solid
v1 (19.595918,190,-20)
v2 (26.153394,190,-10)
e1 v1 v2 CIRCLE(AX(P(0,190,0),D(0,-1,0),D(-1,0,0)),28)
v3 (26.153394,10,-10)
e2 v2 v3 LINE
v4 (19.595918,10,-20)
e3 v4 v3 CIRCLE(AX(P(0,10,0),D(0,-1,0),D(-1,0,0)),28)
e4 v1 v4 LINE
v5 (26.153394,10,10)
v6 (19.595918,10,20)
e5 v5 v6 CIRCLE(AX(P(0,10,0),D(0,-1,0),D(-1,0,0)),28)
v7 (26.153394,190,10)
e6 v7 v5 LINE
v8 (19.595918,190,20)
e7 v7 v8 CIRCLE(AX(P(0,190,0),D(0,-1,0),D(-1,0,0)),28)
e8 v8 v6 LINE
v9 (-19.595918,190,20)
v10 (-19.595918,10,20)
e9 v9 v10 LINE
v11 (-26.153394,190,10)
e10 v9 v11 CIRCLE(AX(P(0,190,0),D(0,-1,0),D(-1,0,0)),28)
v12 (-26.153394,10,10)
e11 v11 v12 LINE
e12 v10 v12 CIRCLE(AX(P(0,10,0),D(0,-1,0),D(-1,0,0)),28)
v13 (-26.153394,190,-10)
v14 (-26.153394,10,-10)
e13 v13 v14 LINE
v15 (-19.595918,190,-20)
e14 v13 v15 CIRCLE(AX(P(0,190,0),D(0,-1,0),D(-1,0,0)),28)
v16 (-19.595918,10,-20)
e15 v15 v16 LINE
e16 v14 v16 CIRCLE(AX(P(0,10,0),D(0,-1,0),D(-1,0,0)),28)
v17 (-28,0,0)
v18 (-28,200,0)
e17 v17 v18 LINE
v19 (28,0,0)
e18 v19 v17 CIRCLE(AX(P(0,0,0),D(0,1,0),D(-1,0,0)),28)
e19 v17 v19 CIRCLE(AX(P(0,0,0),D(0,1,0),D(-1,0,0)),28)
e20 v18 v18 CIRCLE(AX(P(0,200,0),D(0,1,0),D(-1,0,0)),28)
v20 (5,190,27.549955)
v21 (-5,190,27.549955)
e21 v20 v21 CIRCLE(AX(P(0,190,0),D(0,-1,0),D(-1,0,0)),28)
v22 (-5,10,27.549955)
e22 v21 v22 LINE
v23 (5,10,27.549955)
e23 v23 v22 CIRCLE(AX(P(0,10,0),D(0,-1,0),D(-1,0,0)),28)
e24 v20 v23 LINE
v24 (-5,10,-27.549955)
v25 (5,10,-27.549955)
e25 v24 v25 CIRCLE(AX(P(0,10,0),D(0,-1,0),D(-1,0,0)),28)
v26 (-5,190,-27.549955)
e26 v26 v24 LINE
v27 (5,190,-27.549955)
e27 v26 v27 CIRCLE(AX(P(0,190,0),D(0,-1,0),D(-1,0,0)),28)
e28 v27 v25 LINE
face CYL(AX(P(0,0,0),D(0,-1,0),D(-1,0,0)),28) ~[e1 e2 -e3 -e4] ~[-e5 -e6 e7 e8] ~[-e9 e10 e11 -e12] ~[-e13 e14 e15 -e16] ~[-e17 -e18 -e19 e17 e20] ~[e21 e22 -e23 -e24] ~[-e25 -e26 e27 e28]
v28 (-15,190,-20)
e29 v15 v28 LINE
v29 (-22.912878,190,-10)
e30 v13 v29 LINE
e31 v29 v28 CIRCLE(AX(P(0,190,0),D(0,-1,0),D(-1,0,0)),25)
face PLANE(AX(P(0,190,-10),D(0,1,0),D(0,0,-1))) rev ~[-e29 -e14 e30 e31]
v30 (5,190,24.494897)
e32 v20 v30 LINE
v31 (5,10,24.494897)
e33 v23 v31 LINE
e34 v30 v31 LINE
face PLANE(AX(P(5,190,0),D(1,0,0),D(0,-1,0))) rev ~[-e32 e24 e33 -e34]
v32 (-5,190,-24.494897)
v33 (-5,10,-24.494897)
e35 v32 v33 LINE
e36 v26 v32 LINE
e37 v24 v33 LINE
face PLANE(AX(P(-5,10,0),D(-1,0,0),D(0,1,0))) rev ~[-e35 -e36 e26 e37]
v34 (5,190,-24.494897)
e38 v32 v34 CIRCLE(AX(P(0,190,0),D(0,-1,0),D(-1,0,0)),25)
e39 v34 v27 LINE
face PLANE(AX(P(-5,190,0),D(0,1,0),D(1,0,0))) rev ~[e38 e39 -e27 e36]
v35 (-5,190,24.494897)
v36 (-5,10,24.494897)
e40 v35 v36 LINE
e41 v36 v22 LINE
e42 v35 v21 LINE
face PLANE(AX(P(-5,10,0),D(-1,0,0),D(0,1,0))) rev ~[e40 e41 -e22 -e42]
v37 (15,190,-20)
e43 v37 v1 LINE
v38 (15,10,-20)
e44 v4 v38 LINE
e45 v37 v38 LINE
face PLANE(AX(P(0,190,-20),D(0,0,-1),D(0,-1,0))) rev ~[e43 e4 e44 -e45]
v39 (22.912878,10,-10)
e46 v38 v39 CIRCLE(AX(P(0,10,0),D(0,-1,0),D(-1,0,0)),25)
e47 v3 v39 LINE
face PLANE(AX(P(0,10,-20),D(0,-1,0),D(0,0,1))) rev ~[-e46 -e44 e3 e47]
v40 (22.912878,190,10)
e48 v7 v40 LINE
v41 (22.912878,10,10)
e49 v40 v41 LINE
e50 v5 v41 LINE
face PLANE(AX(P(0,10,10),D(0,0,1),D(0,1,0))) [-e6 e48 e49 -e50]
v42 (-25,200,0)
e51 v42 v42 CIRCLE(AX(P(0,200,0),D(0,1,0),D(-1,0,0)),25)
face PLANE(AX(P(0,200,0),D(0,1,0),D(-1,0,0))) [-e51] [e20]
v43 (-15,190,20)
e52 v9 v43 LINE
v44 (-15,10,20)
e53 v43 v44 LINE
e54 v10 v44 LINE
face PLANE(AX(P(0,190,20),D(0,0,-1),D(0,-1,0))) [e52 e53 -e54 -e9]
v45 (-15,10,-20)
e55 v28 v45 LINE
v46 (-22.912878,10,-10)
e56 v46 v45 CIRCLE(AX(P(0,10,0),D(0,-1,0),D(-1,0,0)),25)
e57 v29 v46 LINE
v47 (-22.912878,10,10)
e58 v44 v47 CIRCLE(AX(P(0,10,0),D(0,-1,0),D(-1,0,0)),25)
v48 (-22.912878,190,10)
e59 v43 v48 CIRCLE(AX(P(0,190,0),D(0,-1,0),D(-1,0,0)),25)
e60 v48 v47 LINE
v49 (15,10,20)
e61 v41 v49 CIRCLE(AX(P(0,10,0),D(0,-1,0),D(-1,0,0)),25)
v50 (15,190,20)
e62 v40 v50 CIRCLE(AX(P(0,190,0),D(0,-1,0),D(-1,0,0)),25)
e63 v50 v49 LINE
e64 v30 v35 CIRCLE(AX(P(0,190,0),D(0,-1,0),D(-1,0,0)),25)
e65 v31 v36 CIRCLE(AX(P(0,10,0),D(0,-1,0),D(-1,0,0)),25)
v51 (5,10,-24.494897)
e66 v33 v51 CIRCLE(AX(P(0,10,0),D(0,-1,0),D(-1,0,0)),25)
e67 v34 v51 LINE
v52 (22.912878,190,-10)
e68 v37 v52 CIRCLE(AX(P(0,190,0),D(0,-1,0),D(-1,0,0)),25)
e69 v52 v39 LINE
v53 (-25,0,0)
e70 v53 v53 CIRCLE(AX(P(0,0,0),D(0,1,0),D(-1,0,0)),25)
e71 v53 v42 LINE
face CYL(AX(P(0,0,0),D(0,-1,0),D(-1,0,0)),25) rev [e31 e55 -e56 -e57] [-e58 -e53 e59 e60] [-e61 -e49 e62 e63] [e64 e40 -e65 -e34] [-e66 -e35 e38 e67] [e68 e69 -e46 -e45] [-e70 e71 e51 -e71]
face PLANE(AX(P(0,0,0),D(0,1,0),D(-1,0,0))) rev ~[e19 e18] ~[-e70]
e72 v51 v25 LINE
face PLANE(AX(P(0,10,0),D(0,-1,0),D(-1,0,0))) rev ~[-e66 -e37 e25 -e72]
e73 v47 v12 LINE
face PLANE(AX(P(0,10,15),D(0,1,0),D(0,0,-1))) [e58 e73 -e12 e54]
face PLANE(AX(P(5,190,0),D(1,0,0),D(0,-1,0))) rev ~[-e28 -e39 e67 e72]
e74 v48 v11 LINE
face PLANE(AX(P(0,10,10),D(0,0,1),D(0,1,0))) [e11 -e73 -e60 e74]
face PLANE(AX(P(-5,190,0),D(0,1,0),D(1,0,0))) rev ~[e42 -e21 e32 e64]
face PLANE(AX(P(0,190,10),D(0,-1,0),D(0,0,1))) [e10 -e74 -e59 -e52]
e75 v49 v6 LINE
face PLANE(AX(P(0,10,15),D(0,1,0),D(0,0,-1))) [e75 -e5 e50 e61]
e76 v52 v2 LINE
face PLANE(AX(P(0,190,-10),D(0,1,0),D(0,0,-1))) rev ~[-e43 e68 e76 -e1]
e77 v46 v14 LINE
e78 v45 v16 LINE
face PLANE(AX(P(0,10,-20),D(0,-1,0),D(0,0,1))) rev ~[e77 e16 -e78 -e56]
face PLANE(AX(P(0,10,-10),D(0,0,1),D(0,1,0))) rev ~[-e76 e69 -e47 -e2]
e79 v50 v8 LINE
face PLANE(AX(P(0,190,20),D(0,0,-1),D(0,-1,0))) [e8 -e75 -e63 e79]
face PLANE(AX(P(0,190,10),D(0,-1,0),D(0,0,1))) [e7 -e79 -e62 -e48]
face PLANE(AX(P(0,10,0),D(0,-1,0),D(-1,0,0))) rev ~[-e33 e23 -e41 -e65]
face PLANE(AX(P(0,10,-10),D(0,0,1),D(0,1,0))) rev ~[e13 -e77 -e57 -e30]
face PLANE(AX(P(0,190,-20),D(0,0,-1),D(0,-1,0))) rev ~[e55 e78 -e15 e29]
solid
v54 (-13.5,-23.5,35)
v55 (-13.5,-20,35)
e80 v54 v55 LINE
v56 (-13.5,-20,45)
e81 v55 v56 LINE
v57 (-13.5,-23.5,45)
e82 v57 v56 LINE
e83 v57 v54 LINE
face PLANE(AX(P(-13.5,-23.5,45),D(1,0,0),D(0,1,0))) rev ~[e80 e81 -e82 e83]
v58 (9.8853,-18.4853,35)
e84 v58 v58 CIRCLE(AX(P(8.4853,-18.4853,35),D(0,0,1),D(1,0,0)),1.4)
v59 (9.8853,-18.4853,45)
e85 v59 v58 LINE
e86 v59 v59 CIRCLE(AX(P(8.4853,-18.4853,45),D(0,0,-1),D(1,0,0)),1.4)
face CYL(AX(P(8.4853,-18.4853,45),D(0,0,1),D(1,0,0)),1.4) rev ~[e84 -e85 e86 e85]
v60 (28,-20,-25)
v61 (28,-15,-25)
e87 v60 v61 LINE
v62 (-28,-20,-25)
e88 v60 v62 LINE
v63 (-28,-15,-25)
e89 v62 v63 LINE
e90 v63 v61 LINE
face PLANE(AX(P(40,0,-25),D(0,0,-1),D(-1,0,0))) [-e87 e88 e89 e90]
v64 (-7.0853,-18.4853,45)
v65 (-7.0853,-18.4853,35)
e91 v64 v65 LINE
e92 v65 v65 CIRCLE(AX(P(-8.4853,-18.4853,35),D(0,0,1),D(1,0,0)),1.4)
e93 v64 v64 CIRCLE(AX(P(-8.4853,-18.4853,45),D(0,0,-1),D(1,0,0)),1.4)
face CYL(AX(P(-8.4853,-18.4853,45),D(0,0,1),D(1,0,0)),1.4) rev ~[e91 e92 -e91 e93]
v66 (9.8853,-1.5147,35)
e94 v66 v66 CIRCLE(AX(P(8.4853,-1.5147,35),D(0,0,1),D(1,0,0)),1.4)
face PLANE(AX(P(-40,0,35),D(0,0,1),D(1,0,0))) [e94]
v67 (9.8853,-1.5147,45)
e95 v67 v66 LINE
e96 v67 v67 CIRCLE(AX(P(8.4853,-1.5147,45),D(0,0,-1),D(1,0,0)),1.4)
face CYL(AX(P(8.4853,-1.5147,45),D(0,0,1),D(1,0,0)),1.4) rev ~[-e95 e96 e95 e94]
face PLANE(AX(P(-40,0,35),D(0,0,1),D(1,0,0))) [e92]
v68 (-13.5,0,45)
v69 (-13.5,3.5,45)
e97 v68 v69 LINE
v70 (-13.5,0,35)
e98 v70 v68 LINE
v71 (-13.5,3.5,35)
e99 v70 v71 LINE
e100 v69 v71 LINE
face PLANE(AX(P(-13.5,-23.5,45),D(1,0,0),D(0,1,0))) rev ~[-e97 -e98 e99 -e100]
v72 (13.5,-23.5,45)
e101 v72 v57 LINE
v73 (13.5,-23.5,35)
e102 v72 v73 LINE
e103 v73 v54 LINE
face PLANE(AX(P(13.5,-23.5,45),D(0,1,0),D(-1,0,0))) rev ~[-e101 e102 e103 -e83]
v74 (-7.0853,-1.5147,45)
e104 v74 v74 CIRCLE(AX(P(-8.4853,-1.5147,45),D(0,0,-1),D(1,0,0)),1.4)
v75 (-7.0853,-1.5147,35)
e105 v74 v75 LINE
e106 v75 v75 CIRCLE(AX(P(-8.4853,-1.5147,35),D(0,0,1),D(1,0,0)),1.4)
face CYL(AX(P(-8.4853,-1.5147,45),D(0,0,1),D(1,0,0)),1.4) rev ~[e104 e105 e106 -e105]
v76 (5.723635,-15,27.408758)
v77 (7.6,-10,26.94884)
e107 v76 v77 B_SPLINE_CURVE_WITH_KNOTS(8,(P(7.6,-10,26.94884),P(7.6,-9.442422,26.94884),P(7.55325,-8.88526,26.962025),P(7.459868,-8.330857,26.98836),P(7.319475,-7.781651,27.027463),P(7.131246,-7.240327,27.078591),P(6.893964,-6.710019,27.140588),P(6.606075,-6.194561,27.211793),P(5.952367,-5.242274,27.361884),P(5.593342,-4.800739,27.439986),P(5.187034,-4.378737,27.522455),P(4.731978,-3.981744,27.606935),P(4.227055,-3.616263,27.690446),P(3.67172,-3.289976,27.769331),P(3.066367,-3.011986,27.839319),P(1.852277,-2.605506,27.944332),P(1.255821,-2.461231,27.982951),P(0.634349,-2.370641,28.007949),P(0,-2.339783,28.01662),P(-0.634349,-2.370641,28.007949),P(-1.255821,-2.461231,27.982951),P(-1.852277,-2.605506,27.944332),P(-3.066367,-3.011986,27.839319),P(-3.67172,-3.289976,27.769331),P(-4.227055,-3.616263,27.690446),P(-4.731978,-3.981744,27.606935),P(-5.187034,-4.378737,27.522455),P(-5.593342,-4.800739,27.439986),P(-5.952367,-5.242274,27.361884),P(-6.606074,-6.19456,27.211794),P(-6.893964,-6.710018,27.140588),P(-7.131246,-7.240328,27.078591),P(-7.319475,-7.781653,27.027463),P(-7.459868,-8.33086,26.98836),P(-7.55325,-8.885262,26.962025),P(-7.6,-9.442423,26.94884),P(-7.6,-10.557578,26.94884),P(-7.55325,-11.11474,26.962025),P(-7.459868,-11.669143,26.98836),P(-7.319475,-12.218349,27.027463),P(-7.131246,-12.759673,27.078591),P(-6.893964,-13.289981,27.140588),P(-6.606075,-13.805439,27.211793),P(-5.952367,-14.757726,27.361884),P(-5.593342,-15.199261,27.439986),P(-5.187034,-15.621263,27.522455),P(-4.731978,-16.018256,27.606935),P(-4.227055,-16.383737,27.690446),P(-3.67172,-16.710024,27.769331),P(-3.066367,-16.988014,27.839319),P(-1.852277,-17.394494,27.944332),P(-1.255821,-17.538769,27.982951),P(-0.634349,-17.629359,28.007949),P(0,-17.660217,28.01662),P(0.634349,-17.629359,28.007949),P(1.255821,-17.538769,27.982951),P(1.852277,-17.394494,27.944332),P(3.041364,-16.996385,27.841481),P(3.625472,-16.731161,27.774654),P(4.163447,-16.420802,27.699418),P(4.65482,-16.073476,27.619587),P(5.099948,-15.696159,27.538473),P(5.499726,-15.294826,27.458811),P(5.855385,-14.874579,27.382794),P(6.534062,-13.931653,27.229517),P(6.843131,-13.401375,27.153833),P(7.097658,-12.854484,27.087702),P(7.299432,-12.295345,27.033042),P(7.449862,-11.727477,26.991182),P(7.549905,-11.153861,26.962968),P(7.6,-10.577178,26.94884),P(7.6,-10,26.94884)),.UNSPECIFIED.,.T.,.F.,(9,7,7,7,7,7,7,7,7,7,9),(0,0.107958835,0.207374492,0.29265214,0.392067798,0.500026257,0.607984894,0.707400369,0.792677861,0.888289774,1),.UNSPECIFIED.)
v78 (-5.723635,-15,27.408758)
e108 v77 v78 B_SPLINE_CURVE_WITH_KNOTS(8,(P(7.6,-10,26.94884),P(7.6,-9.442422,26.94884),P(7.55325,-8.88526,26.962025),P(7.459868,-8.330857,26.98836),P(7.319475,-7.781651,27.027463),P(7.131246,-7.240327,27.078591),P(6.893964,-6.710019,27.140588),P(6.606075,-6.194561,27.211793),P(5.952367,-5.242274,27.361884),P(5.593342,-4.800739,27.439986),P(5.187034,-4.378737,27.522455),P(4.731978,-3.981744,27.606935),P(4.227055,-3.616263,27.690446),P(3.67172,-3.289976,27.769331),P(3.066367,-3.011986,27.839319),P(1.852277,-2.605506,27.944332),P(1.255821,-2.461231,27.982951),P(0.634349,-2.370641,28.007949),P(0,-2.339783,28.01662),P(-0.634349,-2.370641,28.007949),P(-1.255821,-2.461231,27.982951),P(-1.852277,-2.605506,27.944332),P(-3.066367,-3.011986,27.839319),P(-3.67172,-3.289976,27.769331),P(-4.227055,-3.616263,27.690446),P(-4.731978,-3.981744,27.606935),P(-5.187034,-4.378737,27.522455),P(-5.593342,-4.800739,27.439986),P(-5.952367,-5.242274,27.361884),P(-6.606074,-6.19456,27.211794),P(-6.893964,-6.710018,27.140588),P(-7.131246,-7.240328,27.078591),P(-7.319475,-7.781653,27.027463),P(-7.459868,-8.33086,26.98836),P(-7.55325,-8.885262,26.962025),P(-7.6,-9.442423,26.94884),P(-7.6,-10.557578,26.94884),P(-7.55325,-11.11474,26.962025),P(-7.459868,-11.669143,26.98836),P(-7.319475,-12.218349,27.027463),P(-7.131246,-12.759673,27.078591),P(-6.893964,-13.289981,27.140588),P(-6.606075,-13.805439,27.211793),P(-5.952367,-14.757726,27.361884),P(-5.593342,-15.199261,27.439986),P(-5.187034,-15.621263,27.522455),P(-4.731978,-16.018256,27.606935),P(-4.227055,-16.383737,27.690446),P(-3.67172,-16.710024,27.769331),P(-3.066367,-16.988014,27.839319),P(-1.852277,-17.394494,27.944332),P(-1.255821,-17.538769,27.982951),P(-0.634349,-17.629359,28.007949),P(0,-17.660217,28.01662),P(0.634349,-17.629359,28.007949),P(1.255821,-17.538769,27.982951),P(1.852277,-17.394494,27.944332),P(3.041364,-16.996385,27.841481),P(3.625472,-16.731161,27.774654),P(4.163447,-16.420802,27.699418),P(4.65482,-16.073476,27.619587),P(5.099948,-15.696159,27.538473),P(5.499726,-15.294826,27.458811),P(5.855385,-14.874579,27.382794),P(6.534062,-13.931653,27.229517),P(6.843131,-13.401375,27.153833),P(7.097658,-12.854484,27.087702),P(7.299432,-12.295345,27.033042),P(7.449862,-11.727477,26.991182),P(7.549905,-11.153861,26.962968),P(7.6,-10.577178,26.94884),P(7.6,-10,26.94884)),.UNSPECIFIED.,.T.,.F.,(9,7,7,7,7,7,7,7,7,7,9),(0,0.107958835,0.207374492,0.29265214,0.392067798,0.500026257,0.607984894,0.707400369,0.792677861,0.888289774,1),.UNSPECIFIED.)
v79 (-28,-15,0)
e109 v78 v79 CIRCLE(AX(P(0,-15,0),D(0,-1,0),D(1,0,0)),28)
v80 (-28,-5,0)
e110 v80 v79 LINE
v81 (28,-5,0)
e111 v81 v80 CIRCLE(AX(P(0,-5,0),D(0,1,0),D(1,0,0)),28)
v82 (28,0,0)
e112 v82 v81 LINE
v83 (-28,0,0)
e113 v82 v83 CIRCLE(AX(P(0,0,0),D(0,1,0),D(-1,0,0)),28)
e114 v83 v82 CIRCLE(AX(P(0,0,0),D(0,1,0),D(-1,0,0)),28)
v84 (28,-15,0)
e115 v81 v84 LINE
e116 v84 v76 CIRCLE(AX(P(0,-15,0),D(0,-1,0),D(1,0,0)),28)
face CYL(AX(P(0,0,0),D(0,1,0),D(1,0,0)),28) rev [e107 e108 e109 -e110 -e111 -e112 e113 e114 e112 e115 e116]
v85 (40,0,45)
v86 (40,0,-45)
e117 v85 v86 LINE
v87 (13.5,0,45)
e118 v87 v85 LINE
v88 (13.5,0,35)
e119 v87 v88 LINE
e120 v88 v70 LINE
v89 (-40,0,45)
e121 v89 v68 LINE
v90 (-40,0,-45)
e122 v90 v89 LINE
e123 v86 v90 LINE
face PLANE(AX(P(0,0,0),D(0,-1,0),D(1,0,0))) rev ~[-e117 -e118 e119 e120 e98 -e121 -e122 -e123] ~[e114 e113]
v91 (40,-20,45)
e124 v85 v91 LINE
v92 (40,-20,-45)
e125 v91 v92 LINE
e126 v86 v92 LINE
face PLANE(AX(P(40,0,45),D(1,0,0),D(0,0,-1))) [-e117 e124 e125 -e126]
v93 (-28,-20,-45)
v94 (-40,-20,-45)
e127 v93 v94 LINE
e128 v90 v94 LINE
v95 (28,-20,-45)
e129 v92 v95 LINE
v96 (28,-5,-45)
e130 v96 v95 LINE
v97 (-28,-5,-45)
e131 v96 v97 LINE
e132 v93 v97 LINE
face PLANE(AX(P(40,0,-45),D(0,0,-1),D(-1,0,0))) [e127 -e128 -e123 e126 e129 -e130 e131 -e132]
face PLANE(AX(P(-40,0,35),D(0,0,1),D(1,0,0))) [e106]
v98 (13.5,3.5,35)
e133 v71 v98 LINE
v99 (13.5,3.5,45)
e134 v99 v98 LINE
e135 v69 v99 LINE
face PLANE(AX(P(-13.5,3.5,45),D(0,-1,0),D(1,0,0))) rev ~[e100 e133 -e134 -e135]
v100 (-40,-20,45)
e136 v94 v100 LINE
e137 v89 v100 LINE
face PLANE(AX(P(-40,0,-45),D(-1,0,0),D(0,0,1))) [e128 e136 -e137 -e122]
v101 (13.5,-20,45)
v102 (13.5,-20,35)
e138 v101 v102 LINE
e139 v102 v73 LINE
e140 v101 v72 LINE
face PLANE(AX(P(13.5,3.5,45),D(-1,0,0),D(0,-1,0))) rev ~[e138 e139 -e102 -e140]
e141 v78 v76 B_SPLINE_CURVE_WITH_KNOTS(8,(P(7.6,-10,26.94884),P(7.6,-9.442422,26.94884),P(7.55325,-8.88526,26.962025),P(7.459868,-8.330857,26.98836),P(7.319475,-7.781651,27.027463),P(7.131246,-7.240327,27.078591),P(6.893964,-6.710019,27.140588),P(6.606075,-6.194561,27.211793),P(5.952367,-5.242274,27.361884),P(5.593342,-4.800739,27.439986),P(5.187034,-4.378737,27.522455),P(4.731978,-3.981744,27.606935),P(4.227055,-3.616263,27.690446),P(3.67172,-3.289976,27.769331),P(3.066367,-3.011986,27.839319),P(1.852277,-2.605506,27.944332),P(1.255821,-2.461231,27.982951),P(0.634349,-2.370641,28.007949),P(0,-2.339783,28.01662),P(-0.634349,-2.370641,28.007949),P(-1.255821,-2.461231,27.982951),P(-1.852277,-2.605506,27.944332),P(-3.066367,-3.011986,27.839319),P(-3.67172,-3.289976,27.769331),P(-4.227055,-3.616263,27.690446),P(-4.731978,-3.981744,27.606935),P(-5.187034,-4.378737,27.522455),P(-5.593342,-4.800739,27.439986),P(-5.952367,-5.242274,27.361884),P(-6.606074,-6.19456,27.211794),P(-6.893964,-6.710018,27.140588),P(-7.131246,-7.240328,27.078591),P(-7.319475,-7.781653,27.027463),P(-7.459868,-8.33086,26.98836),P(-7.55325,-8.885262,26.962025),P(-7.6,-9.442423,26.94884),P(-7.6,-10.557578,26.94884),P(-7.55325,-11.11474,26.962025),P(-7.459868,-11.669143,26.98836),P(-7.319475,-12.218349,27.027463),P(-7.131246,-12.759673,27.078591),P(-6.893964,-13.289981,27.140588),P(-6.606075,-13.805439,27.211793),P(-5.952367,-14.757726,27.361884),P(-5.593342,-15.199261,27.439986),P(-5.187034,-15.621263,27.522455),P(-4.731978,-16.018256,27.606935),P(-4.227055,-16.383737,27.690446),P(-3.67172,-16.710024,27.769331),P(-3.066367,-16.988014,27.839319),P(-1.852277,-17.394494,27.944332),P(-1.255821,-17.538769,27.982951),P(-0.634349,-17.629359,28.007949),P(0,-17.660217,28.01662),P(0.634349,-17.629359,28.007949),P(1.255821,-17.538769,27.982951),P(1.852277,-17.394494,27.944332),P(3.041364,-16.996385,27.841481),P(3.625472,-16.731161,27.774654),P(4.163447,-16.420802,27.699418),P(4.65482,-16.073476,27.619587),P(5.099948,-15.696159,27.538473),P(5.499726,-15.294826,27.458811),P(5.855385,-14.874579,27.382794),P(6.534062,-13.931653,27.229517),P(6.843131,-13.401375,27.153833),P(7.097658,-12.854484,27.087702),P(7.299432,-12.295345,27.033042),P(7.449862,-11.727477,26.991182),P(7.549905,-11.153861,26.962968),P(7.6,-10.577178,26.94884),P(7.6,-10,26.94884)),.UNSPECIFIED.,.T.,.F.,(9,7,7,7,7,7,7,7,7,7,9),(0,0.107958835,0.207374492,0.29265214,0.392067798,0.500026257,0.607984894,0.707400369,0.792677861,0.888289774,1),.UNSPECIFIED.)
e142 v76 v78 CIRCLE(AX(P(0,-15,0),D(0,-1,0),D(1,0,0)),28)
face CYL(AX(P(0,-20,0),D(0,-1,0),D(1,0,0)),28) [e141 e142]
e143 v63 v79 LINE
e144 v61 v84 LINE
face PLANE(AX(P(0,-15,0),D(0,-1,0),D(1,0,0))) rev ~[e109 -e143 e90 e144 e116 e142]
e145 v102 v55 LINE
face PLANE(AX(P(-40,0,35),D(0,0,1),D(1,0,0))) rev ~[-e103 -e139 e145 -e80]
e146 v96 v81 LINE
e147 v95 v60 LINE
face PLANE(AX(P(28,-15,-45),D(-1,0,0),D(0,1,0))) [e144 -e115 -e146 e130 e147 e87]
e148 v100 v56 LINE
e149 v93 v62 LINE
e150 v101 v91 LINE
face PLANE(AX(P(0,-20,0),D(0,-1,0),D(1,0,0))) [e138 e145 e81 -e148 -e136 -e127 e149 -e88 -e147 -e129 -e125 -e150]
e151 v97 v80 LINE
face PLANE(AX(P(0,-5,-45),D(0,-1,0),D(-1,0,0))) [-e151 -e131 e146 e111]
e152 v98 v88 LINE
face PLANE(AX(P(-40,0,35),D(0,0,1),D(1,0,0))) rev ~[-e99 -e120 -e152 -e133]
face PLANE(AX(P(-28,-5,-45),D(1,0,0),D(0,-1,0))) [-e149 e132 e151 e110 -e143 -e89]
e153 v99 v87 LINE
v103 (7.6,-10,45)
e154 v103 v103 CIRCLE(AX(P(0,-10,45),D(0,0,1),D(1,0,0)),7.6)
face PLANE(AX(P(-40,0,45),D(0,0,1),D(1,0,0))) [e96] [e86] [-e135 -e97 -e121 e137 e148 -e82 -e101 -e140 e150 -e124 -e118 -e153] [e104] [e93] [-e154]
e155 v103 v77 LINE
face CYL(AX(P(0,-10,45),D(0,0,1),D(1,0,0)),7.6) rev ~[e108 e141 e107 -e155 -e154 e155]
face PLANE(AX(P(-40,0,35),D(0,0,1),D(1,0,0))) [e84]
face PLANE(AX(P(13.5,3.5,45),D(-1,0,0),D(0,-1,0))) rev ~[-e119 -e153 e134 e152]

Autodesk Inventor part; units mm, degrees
ref_plane "YZ Plane" through (0, 0, 0) normal (1, 0, 0) x (0, 1, 0)
ref_plane "XZ Plane" through (0, 0, 0) normal (0, 1, 0) x (-1, 0, 0)
ref_plane "XY Plane" through (0, 0, 0) normal (0, 0, 1) x (1, 0, 0)
sketch "Sketch1" plane through (0, 0, 0) normal (0, 1, 0) x (-1, 0, 0)
  circle A0 centre (0, 0) radius 25
  circle A1 centre (0, 0) radius 28
  dimension "d0" = 50
  dimension "d1" = 56
extrude "Extrusion1" add sketch "Sketch1" along normal blind 200
sketch "Sketch2" plane through (0, 0, 0) normal (1, 0, 0) x (0, 1, 0)
  line L0 (0, 0) -> (0, 15)
  line L1 (0, -28) -> (0, 28) projected
  line L2 (0, 15) -> (100, 15)
  line L3 (190, 20) -> (10, 20)
  line L4 (10, 20) -> (10, 10)
  line L5 (10, 10) -> (190, 10)
  line L6 (190, 10) -> (190, 20)
  line L7 (190, 20) -> (10, 10) construction
  line L8 (10, 20) -> (190, 10) construction
  line L9 (0, 0) -> (25, 0)
  line L10 (190, -20) -> (10, -20)
  line L11 (10, -20) -> (10, -10)
  line L12 (10, -10) -> (190, -10)
  line L13 (190, -10) -> (190, -20)
  line L14 (190, -20) -> (10, -10) construction
  line L15 (10, -20) -> (190, -10) construction
  point P0 (100, -15)
  dimension "d4" = 15
  dimension "d5" = 100
  dimension "d6" = 180
  dimension "d7" = 10
  dimension "d8" = 25
extrude "Extrusion2" cut sketch "Sketch2" along normal mid plane 100
sketch "Sketch4" plane through (0, 0, 0) normal (0, 0, 1) x (1, 0, 0)
  line L0 (0, 0) -> (0, 100)
  line L1 (-5, 190) -> (5, 190)
  line L2 (5, 190) -> (5, 10)
  line L3 (5, 10) -> (-5, 10)
  line L4 (-5, 10) -> (-5, 190)
  line L5 (-5, 190) -> (5, 10) construction
  line L6 (5, 190) -> (-5, 10) construction
  dimension "d11" = 100
  dimension "d12" = 10
  dimension "d13" = 180
extrude "Extrusion3" cut sketch "Sketch4" along normal mid plane 100
sketch "Sketch5" plane through (0, 0, 0) normal (0, -1, 0) x (1, 0, 0)
  line L0 (-40, 45) -> (40, 45)
  line L1 (40, 45) -> (40, -45)
  line L2 (40, -45) -> (-40, -45)
  line L3 (-40, -45) -> (-40, 45)
  line L4 (-40, 45) -> (40, -45) construction
  line L5 (40, 45) -> (-40, -45) construction
  circle A0 centre (0, 0) radius 28
  dimension "d16" = 80
  dimension "d17" = 90
  dimension "d18" = 56
extrude "Extrusion4" add sketch "Sketch5" along normal blind 20
sketch "Sketch6" plane through (-40, 0, 45) normal (0, 0, 1) x (1, 0, 0)
  circle A0 centre (40, -10) radius 7.6
  point P0 (40, 0)
  dimension "d21" = 15.2
extrude "Extrusion5" cut sketch "Sketch6" against normal blind 20
sketch "Sketch7" plane through (0, -20, 0) normal (0, -1, 0) x (1, 0, 0)
  circle A0 centre (0, 0) radius 28 projected
extrude "Extrusion6" add sketch "Sketch7" against normal blind 5
sketch "Sketch8" plane through (40, 0, -45) normal (0, 0, -1) x (-1, 0, 0)
  line L0 (12, 0) -> (12, 200) projected
  line L1 (68, 0) -> (68, 200) projected
  line L2 (80, 0) -> (0, 0) projected
  line L3 (40, 0) -> (40, -10)
  line L4 (12, -15) -> (68, -15) projected
  line L5 (12, -5) -> (68, -5)
  line L6 (68, -5) -> (68, -15)
  line L7 (68, -15) -> (12, -15)
  line L8 (12, -15) -> (12, -5)
  circle A0 centre (40, -10) radius 7.6 projected
  line L9 (12, -5) -> (68, -15) construction
  line L10 (68, -5) -> (12, -15) construction
  point P0 (45.7236, -15)
  point P1 (34.2764, -15)
  dimension "d26" = 10
extrude "Extrusion7" cut sketch "Sketch8" against normal blind 45 contours L5 A0 L4 | L5 L6 L4 A0 | A0 L4 L8 L5
sketch "Sketch9" plane through (-40, 0, 45) normal (0, 0, 1) x (1, 0, 0)
  circle A0 centre (40, -10) radius 7.6 projected
  line L0 (26.5, 3.5) -> (53.5, 3.5)
  line L1 (53.5, 3.5) -> (53.5, -23.5)
  line L2 (53.5, -23.5) -> (26.5, -23.5)
  line L3 (26.5, -23.5) -> (26.5, 3.5)
  line L4 (26.5, 3.5) -> (53.5, -23.5) construction
  line L5 (53.5, 3.5) -> (26.5, -23.5) construction
  circle A1 centre (40, -10) radius 12
  line L6 (53.5, 3.5) -> (26.5, -23.5)
  circle A2 centre (48.4853, -1.5147) radius 1.4
  circle A3 centre (31.5147, -1.5147) radius 1.4
  circle A4 centre (31.5147, -18.4853) radius 1.4
  circle A5 centre (48.4853, -18.4853) radius 1.4
  point P0 (40, 0)
  dimension "d31" = 24
  dimension "d29" = 27
  dimension "d30" = 27
  dimension "d32" = 2.8
  dimension "d39" = 360
extrude "Extrusion8" add sketch "Sketch9" against normal blind 10 contours A0 L6 A2 A1 A5 A4 | A0 L6 A4 A1 A3 A2 | A1 A3 A4 L6 L3 L0 A2 | A2 L6 L1 L2 A4 A1 A5
extrude "Extrusion9" cut sketch "Sketch9" against normal blind 10 contours A2 A1 L6 | L6 A1 A2 | A4 A1 L6 | L6 A1 A4 | L6 A2 A1 | A1 A2 L6 | L6 A4 A1 | A1 A4 L6 | A3 A1 | A1 A3 | A5 A1 | A1 A5
sketch "Sketch10" plane through (40, 0, -45) normal (0, 0, -1) x (-1, 0, 0)
  line L0 (68, -15) -> (12, -15) projected
  line L1 (53.5, -20) -> (80, -20) projected
  line L2 (12, -10) -> (68, -10)
  line L3 (68, -10) -> (68, -20)
  line L4 (68, -20) -> (12, -20)
  line L5 (12, -20) -> (12, -10)
  line L6 (12, -10) -> (68, -20) construction
  line L7 (68, -10) -> (12, -20) construction
  point P0 (40, 0)
  point P1 (40, -15)
extrude "Extrusion10" cut sketch "Sketch10" against normal blind 20
properties part number "TUBO CONTENEDOR"
